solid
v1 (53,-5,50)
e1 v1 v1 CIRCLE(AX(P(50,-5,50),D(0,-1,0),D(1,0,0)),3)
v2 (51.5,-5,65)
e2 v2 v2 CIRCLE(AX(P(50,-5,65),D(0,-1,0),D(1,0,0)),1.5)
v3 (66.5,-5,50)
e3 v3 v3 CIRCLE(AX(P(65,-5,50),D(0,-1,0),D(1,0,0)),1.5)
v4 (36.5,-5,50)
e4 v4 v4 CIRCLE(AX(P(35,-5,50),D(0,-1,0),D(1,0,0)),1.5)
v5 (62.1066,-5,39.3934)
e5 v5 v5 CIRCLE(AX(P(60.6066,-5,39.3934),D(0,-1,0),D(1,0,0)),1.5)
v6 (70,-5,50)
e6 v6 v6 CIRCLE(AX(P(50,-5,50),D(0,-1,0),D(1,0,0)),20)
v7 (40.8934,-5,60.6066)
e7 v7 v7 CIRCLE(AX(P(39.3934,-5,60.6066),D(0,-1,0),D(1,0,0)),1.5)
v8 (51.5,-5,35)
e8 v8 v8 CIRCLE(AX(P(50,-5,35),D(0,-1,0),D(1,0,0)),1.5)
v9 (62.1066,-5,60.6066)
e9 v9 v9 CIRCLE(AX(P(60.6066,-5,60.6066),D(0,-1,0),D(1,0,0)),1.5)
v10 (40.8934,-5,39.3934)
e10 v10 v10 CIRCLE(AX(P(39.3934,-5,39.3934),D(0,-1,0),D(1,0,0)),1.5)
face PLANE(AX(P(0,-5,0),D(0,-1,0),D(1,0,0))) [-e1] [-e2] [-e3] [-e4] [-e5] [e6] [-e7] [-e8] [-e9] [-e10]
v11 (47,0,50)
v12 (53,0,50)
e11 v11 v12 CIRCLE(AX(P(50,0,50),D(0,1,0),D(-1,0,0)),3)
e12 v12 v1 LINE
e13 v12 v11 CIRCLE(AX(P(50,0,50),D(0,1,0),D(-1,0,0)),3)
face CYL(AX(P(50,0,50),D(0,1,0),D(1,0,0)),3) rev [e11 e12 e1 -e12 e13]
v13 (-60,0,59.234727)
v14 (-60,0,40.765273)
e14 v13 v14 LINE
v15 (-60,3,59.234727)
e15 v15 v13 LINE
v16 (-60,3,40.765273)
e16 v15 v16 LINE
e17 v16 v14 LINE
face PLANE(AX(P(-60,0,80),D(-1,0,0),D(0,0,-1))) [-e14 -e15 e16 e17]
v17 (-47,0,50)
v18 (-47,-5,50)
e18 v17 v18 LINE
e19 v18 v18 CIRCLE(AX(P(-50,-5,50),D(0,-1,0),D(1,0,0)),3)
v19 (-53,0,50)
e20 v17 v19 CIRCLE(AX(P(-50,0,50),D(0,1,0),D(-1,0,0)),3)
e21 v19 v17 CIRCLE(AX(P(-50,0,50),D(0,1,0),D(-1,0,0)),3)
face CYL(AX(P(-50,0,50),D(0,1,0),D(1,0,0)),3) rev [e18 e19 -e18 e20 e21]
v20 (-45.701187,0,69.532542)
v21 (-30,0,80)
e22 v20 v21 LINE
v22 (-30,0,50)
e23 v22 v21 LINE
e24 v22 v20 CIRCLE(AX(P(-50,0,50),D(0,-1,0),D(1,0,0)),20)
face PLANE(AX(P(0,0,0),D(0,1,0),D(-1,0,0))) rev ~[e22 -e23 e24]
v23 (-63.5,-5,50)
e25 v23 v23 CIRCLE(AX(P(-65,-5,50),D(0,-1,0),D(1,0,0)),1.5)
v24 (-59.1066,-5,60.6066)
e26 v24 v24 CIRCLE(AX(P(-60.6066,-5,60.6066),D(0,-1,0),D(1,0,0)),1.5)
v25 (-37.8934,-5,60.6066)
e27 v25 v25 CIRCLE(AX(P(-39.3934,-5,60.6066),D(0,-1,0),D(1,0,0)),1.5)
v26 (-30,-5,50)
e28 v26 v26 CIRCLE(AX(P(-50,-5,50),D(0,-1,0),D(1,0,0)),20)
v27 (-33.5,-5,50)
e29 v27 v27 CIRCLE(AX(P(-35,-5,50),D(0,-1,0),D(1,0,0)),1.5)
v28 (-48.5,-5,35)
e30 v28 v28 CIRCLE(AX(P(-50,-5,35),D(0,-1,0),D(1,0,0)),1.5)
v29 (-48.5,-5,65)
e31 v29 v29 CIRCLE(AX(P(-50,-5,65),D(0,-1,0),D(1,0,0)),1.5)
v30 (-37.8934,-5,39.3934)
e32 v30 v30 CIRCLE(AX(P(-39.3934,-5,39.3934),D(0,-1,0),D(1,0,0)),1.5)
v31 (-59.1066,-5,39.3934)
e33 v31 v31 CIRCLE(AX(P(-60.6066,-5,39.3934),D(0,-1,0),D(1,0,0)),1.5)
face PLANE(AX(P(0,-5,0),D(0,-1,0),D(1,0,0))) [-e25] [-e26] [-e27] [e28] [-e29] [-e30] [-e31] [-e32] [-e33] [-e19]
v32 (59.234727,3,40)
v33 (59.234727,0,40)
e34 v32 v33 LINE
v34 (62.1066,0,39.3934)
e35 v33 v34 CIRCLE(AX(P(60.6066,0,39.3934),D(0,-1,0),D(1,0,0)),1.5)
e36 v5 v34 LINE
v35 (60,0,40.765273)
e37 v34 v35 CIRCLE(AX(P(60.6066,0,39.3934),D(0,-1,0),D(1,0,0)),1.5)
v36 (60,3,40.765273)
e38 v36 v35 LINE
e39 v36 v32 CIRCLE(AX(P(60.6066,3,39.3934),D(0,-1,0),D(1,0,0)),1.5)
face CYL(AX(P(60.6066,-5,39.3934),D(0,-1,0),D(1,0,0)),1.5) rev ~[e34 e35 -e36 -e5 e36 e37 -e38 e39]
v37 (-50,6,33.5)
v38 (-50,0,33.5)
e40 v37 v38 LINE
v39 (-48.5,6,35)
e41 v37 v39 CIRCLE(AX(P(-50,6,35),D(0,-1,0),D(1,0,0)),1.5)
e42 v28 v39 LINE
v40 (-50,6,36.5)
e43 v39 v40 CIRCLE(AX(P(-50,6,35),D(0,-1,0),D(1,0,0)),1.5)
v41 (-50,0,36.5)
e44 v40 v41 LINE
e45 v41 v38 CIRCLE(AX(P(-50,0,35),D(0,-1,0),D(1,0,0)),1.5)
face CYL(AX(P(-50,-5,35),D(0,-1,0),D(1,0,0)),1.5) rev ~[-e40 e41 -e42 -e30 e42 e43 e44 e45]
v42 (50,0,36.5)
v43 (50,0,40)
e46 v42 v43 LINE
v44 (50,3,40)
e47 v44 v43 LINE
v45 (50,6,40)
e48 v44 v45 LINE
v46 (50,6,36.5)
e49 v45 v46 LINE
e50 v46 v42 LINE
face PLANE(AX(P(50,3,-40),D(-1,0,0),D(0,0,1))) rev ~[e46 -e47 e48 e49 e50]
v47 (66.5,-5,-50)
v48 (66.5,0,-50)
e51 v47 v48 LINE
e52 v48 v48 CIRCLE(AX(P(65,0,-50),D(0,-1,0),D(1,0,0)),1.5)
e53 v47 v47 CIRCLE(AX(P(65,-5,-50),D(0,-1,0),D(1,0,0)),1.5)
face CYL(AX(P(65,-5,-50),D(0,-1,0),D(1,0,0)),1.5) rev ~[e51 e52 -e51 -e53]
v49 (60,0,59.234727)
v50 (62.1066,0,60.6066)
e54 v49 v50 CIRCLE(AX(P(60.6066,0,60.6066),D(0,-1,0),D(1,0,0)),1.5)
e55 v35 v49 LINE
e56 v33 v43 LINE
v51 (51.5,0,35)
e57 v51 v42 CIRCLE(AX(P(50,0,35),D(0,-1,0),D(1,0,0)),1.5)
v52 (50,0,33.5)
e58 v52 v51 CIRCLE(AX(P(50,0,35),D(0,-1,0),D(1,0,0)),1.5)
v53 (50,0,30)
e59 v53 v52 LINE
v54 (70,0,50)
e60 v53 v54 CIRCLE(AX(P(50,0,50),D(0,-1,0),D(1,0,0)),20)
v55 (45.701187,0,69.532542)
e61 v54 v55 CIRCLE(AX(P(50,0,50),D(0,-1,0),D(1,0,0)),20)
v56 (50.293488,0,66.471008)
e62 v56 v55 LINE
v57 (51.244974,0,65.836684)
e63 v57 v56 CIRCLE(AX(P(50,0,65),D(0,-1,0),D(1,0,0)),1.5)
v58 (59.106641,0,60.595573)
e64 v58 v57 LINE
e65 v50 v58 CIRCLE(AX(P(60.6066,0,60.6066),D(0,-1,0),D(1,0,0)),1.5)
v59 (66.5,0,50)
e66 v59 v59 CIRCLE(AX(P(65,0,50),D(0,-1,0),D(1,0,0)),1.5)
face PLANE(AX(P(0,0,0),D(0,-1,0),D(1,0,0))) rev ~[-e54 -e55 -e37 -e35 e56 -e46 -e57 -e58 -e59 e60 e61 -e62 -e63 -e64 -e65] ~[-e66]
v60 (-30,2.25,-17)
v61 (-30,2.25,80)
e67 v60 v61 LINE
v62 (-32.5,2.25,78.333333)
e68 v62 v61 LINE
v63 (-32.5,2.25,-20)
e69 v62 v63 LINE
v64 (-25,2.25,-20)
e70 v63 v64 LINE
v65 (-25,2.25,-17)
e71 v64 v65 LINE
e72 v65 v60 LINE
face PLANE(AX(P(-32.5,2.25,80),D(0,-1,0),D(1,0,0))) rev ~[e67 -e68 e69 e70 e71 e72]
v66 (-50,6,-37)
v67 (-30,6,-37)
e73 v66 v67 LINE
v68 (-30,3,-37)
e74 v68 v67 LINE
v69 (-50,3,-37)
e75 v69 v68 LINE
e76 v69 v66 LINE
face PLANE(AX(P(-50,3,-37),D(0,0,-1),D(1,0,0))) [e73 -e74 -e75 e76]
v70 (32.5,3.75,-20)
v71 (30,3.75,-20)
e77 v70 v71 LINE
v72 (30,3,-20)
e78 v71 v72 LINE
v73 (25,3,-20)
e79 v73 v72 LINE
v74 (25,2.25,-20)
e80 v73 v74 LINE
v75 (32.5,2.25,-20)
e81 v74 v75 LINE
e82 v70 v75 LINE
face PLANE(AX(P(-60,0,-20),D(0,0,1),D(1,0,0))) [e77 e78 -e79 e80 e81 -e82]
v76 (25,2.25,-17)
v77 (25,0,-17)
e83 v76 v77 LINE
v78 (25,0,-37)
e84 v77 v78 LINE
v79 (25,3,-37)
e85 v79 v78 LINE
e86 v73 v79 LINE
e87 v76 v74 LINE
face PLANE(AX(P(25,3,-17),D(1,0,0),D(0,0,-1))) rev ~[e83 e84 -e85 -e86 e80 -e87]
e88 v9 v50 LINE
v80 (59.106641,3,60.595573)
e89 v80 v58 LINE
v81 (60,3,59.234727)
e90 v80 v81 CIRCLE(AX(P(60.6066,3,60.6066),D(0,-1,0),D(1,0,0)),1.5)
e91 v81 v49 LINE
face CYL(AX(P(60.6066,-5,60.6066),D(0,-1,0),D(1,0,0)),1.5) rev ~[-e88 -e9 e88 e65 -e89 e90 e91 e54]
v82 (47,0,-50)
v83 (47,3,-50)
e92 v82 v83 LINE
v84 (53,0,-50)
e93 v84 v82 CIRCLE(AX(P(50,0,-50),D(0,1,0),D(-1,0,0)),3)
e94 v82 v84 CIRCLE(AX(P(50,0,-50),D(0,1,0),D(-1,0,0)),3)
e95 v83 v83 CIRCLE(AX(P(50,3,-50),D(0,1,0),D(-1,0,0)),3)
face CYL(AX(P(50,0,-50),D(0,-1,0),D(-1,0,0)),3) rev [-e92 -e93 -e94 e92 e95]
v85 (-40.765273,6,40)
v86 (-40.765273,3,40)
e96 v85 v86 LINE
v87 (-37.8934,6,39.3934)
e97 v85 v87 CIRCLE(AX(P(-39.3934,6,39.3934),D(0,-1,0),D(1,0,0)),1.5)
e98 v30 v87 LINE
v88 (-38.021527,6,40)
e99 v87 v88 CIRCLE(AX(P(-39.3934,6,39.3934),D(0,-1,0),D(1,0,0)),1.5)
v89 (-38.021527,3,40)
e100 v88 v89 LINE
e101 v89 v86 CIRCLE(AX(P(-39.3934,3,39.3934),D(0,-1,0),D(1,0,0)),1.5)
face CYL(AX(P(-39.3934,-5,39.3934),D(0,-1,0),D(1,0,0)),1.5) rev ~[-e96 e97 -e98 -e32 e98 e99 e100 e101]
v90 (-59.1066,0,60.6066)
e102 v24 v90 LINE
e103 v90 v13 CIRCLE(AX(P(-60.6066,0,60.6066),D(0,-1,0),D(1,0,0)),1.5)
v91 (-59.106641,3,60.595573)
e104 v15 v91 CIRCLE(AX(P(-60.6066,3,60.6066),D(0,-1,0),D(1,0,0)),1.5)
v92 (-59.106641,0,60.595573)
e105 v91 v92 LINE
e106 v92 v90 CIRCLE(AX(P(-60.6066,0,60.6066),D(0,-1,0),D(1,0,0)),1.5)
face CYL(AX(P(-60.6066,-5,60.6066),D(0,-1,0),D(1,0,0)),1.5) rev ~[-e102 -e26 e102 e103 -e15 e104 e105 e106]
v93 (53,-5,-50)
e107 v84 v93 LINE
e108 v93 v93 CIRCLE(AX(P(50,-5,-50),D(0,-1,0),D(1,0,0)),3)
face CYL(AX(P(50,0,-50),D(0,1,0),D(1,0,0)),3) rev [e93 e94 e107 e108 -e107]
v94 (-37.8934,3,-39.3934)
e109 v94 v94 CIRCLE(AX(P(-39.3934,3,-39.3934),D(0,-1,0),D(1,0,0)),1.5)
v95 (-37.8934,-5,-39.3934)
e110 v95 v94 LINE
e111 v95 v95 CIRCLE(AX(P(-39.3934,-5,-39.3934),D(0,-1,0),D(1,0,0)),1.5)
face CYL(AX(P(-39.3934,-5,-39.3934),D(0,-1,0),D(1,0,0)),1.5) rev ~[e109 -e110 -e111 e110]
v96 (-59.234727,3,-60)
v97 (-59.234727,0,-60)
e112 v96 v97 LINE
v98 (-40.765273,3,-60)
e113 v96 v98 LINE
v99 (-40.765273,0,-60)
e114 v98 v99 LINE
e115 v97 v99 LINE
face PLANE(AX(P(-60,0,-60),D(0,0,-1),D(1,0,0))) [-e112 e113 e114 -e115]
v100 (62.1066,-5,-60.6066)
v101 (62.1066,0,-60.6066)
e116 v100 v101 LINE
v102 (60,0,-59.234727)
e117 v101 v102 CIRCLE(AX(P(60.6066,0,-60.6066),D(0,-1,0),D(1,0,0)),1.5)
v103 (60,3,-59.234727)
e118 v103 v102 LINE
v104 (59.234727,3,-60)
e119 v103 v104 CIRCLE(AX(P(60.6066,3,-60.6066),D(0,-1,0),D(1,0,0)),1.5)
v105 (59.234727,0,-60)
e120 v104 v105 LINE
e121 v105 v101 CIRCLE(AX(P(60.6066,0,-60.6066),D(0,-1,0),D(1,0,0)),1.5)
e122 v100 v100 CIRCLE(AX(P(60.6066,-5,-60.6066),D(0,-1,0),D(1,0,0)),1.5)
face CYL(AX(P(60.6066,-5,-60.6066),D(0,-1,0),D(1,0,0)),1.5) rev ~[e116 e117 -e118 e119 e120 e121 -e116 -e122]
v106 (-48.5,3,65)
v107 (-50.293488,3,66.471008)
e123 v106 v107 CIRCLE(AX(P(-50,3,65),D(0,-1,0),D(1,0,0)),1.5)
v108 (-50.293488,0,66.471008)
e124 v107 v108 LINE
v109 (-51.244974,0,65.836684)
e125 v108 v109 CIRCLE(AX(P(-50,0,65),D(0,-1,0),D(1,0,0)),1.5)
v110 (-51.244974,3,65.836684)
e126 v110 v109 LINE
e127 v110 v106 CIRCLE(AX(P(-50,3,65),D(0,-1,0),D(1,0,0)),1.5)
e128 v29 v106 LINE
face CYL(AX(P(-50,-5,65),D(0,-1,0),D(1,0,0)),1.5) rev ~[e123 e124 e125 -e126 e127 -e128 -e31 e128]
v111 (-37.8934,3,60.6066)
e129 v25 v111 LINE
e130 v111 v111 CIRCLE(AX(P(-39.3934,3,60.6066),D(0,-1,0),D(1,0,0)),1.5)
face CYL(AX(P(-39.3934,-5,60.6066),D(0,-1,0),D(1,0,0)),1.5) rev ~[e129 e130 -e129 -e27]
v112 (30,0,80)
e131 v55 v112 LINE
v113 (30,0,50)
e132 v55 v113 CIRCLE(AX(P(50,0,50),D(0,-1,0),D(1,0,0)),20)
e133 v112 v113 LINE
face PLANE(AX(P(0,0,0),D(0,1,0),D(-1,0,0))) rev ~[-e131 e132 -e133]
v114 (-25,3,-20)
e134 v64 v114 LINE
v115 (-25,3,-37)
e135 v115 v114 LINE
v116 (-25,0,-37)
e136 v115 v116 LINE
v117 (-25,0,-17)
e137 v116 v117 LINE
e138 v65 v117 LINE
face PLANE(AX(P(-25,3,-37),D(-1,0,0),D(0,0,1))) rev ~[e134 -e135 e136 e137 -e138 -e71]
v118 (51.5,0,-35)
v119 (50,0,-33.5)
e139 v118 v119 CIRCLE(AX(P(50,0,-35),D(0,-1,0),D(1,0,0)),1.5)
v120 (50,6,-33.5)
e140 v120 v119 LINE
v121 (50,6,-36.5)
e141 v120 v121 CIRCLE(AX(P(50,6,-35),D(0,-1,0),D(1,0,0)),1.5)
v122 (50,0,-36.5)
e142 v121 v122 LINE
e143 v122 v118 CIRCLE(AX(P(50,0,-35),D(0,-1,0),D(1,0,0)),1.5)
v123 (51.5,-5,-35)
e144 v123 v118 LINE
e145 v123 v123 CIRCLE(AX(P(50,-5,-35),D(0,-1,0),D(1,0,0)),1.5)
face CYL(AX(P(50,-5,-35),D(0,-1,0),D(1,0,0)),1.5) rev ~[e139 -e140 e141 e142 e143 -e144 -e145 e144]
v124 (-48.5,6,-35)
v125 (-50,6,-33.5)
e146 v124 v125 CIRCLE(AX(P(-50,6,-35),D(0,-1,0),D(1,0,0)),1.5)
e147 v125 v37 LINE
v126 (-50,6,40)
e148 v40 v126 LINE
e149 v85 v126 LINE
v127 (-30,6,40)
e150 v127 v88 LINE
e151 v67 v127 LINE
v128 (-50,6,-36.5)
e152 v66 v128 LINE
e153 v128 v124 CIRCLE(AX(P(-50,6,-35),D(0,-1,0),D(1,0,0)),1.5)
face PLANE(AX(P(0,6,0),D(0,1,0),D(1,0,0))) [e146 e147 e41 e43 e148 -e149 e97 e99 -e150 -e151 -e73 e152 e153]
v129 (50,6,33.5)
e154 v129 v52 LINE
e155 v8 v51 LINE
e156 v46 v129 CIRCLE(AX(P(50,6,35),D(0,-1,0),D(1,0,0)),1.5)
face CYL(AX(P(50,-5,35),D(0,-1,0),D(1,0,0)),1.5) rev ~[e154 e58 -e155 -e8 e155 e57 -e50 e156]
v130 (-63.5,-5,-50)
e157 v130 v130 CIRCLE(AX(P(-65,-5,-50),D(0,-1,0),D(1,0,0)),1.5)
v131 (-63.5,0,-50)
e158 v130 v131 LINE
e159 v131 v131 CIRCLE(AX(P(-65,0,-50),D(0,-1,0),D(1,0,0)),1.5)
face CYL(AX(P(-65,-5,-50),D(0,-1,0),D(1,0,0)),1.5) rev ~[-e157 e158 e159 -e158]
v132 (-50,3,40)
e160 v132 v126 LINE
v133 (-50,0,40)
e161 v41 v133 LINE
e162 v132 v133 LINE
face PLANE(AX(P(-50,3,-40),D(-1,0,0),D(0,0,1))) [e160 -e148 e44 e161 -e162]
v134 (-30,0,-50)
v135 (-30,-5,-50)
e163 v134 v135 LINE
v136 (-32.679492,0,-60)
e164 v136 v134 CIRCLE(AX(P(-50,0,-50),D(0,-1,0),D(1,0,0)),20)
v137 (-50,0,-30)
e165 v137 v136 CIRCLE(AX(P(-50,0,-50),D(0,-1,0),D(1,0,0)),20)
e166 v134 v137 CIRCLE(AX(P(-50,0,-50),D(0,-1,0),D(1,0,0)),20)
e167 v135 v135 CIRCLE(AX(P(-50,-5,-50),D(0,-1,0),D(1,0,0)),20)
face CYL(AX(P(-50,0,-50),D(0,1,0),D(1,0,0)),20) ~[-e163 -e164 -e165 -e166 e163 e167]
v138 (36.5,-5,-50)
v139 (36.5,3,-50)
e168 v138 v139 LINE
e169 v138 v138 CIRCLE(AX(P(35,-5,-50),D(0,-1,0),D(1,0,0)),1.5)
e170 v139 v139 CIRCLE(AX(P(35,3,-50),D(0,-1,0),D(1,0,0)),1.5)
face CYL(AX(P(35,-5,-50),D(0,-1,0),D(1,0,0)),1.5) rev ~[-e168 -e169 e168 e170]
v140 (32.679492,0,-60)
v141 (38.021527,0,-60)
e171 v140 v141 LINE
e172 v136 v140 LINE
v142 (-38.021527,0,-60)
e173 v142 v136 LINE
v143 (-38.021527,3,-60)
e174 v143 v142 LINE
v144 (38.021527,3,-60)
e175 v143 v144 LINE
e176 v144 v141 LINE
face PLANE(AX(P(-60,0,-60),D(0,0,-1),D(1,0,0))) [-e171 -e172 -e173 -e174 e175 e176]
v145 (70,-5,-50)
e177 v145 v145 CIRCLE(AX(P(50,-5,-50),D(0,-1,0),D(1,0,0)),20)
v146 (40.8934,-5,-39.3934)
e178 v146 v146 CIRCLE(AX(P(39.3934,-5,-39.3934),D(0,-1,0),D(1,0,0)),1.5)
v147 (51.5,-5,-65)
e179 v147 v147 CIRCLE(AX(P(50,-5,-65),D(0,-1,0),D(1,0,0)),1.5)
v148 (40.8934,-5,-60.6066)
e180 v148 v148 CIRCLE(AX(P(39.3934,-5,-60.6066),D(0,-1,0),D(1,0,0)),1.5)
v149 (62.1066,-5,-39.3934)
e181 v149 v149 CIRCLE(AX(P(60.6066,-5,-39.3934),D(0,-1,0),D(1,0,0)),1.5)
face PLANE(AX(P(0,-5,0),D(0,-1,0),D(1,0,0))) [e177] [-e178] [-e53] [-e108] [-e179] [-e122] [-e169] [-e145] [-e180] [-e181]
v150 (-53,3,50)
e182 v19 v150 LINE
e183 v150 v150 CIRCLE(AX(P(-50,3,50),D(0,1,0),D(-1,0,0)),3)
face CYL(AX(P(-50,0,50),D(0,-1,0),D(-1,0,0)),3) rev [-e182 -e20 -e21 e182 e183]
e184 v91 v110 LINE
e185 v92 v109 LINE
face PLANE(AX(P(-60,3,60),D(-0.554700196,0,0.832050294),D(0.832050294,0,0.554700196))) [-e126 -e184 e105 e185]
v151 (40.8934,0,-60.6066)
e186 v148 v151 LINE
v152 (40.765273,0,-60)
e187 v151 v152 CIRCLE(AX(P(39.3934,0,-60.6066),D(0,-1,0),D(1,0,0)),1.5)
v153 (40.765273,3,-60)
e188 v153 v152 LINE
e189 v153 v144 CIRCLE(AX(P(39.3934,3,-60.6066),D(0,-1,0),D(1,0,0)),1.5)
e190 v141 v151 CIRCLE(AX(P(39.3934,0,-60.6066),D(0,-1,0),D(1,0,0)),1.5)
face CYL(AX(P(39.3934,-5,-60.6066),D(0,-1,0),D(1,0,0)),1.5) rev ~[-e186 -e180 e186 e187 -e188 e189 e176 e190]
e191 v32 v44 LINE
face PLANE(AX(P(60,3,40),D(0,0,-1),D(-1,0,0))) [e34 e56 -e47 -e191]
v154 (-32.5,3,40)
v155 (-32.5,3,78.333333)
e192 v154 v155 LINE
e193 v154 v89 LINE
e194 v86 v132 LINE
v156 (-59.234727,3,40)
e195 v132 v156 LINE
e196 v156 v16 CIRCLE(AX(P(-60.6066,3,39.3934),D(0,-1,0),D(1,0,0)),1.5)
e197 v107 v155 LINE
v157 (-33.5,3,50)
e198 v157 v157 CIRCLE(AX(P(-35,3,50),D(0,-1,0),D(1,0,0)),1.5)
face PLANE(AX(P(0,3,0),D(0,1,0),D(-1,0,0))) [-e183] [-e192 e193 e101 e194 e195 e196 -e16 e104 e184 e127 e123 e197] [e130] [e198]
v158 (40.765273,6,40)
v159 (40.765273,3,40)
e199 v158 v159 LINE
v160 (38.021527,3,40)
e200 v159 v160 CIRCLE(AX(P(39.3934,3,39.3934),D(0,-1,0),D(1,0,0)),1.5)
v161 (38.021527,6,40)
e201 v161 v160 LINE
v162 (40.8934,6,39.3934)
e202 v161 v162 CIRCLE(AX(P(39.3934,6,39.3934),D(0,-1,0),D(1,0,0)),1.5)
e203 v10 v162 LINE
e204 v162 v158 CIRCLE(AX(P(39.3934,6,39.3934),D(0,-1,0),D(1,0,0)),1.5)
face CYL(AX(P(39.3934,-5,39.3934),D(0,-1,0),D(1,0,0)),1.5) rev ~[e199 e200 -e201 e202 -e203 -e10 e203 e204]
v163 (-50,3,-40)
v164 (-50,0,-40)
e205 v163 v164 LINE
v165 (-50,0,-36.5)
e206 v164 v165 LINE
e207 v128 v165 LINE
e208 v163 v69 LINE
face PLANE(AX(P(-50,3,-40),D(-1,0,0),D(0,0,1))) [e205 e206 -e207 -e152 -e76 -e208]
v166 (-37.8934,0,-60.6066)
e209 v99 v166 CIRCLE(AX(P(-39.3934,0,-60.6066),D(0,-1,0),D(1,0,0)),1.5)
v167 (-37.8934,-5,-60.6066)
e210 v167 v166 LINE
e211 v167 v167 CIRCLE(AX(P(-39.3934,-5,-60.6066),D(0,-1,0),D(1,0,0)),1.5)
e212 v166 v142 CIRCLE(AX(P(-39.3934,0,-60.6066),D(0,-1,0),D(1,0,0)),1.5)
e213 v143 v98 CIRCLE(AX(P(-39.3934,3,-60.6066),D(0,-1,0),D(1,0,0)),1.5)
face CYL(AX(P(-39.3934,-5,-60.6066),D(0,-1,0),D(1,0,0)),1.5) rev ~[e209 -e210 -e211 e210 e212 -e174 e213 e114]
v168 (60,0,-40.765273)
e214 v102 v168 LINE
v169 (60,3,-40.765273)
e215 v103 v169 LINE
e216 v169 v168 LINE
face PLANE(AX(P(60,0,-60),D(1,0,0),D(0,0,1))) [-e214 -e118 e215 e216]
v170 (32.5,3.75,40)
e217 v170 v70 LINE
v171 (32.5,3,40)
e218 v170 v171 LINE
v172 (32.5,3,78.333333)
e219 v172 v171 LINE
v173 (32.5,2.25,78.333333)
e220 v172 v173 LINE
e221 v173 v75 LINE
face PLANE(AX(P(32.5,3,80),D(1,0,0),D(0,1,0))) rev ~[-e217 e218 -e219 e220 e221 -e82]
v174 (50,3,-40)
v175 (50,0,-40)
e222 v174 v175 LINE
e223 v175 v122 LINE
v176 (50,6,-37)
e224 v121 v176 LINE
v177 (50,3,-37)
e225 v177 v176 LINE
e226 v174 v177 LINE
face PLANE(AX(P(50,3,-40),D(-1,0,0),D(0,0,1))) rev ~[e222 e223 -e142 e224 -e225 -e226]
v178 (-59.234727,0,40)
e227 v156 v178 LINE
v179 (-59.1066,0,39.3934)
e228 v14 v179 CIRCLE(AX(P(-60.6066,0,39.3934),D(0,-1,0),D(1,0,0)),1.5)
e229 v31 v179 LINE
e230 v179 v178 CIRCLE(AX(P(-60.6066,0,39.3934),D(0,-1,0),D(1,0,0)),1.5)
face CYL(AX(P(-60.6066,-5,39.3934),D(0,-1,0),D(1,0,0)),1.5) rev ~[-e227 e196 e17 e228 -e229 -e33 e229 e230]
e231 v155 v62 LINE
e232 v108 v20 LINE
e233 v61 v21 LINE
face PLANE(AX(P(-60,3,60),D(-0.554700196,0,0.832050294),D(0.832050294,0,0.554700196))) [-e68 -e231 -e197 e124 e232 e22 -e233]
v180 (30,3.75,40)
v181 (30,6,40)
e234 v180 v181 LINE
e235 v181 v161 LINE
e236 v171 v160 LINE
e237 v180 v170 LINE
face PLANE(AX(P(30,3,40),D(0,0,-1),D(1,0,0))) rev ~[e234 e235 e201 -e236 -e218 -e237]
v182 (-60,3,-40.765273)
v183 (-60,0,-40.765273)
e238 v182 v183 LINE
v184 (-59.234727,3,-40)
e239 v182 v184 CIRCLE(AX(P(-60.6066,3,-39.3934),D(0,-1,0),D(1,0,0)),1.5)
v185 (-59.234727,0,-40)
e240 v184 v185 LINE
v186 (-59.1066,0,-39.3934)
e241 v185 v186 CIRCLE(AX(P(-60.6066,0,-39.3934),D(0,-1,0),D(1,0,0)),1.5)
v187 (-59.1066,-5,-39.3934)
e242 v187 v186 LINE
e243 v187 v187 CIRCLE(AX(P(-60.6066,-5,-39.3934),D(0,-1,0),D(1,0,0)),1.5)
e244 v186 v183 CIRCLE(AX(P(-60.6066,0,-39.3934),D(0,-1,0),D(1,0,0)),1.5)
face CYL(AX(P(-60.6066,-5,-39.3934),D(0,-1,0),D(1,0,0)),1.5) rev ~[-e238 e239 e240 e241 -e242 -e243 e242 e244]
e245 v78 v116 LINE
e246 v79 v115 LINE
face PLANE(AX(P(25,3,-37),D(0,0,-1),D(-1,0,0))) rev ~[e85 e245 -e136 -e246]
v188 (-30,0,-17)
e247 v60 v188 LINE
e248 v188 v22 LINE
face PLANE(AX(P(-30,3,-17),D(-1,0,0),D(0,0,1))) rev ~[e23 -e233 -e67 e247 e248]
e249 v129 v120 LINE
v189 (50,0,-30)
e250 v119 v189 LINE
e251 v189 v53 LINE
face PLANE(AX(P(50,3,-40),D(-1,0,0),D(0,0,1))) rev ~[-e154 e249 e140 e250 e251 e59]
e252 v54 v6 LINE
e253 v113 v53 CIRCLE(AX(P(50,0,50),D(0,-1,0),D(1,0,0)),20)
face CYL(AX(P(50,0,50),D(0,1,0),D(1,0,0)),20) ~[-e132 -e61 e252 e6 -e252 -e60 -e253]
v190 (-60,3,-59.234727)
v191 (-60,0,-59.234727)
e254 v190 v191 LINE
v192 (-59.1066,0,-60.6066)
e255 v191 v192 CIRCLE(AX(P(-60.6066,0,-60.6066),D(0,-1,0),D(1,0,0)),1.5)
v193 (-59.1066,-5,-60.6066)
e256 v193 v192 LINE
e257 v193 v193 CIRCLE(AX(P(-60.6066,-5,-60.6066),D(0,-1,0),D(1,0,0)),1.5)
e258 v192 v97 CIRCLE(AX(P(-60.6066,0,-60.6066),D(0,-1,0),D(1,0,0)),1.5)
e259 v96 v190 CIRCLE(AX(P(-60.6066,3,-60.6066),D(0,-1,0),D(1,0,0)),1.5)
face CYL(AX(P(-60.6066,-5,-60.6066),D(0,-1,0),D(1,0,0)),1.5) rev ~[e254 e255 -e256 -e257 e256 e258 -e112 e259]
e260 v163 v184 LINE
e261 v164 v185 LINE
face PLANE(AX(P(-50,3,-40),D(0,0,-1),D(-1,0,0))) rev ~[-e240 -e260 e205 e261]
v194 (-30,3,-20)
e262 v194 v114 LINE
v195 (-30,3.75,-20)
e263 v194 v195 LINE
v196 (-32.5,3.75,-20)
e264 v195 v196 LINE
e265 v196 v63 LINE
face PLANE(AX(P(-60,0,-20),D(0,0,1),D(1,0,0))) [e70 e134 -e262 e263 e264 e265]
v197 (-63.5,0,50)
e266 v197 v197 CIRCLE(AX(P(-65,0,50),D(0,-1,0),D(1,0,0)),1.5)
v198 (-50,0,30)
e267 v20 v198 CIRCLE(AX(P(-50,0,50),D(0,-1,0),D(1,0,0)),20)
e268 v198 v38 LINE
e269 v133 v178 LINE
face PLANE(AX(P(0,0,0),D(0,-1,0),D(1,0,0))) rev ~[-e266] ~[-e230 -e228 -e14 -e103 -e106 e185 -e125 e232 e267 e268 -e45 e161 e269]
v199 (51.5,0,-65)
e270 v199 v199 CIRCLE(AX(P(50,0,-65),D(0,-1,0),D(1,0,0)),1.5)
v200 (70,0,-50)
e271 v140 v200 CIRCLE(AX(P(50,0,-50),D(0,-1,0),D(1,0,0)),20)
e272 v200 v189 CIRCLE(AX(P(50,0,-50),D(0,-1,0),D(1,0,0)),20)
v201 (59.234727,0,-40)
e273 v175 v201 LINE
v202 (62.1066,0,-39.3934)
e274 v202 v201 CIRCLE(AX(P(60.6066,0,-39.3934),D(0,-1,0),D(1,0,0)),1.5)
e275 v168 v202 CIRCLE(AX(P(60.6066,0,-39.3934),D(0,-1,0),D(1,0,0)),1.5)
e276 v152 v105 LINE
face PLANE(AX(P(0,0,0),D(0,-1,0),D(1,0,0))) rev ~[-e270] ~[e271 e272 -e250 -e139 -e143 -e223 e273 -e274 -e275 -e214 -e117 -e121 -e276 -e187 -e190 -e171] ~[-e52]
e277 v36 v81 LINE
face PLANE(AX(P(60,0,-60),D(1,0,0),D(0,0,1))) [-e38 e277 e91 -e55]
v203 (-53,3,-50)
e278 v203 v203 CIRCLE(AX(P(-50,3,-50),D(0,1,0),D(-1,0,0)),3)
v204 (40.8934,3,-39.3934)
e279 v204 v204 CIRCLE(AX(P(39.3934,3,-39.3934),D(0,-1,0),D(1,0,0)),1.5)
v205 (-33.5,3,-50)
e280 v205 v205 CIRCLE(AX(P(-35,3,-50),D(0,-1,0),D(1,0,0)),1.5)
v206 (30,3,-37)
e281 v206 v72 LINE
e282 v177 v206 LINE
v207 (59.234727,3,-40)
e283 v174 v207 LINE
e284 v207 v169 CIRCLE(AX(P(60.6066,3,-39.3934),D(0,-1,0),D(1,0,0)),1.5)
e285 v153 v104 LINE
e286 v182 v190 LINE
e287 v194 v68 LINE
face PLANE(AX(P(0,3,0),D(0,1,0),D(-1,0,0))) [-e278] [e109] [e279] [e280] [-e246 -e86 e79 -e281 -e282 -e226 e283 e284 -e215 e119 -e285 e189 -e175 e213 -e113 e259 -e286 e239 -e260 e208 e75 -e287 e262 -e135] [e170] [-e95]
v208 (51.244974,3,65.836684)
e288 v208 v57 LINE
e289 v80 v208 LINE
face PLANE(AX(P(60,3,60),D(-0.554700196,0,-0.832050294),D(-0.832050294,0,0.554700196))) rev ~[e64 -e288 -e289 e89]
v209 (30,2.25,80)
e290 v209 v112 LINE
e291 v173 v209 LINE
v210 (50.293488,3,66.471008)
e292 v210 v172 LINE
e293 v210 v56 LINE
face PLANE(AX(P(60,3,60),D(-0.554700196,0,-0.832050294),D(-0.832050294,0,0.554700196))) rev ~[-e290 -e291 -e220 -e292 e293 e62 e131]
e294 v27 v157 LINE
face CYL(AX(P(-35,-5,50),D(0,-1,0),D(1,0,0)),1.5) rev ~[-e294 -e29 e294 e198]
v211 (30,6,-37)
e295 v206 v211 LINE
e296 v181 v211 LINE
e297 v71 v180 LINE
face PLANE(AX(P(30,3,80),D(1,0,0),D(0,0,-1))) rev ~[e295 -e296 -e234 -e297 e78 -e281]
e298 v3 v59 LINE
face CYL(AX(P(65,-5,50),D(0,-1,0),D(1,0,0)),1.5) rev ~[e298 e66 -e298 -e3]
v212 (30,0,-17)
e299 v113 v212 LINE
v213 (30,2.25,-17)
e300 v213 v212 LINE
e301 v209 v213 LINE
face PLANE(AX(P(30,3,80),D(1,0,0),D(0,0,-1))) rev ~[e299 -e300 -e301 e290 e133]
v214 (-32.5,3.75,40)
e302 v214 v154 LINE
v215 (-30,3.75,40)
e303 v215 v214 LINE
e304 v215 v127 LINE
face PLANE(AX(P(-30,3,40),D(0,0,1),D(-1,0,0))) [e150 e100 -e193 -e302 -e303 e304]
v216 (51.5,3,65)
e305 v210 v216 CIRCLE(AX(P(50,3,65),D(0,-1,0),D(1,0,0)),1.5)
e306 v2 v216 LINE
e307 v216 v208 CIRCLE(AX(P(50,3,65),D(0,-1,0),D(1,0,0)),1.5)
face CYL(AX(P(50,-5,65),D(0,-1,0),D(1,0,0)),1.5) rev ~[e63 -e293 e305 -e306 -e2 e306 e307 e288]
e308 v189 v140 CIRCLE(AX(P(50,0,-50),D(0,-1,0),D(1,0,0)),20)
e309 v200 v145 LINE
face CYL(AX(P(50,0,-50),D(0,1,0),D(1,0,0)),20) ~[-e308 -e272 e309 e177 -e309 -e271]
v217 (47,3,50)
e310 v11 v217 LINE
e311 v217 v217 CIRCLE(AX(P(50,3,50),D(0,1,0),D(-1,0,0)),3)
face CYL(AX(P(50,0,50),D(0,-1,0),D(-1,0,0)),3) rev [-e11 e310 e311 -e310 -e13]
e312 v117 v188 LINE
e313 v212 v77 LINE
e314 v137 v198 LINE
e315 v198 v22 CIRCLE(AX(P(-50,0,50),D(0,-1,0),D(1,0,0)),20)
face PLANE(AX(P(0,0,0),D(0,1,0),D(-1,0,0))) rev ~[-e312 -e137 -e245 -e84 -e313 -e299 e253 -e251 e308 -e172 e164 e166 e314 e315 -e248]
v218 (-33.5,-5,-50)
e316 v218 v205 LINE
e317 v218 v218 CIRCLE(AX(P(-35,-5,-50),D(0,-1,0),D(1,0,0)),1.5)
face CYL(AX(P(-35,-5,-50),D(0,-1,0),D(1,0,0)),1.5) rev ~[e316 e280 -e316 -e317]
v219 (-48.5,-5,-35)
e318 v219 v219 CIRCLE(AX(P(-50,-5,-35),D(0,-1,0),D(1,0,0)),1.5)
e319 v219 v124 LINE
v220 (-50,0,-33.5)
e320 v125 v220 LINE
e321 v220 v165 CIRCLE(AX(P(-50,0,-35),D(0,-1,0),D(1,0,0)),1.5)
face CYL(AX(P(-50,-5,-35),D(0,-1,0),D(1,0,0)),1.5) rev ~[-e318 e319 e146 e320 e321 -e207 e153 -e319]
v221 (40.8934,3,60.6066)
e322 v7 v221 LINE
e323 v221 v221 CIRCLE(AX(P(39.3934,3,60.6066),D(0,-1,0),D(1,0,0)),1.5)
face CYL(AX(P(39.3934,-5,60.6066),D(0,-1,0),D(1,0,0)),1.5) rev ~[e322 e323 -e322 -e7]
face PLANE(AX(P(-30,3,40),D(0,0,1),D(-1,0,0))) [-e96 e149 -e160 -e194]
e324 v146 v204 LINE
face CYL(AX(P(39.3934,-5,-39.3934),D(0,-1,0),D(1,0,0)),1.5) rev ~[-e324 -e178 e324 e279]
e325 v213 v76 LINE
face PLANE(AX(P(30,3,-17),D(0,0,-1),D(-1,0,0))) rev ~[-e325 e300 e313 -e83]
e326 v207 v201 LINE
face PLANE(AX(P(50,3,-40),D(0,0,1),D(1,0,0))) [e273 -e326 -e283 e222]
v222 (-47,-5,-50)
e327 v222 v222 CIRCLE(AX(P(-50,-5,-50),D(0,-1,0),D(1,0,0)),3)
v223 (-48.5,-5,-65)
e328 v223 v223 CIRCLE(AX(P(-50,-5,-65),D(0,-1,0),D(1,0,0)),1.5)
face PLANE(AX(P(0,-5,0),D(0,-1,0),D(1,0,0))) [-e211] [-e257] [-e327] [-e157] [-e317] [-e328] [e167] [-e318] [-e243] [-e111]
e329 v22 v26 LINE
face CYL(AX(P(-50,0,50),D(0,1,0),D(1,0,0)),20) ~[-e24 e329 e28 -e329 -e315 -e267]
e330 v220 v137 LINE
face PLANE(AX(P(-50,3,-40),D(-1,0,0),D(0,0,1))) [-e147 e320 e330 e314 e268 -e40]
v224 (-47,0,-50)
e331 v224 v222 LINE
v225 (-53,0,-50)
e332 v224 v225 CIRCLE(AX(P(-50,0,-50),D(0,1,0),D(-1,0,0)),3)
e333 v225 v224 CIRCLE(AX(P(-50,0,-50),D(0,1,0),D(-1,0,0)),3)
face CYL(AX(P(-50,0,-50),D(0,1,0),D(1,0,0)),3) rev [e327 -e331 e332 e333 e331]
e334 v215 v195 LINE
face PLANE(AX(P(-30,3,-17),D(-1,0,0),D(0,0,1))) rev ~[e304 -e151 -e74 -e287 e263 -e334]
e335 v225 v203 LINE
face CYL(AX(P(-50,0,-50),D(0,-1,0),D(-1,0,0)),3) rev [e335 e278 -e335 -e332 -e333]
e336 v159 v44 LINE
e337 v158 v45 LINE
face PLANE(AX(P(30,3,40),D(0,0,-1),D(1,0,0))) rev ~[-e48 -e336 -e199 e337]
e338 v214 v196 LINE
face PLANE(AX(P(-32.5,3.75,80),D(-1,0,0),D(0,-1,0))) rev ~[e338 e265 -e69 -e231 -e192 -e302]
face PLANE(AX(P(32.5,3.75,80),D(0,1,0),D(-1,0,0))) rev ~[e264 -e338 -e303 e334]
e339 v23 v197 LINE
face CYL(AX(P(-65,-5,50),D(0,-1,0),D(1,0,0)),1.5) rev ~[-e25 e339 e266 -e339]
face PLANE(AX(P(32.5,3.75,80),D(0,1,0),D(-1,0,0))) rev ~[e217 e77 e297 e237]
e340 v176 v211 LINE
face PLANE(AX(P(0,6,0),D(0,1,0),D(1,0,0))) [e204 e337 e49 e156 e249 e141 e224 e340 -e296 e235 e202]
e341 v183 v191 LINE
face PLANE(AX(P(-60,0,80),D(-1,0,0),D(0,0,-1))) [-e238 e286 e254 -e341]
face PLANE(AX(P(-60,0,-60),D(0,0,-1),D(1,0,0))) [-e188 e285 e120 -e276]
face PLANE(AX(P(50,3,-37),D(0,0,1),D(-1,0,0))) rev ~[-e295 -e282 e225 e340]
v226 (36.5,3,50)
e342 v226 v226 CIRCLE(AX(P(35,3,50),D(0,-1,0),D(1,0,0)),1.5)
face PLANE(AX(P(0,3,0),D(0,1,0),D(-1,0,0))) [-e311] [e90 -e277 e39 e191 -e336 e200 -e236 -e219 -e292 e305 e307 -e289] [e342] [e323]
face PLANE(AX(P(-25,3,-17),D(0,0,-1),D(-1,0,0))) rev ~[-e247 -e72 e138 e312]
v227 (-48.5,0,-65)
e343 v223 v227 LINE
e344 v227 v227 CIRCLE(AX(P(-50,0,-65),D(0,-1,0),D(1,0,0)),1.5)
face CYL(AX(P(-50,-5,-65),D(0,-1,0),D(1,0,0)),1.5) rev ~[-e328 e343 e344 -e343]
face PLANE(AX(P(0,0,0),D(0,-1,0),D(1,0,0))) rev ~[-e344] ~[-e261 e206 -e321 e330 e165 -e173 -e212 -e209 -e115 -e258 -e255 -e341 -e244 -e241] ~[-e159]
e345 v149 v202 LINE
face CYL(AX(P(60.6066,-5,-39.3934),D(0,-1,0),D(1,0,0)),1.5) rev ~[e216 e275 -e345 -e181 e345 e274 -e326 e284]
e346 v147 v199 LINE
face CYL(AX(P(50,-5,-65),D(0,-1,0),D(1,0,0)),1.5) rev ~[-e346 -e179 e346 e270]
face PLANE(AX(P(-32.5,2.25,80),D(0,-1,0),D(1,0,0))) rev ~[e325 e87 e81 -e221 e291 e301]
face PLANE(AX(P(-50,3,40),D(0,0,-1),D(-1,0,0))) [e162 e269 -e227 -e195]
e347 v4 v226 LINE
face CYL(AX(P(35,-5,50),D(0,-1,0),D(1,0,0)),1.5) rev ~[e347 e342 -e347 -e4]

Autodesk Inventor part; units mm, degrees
ref_plane "YZ Plane" through (0, 0, 0) normal (1, 0, 0) x (0, 1, 0)
ref_plane "XZ Plane" through (0, 0, 0) normal (0, 1, 0) x (-1, 0, 0)
ref_plane "XY Plane" through (0, 0, 0) normal (0, 0, 1) x (1, 0, 0)
sketch "Esquisse1" plane through (0, 0, 0) normal (0, 1, 0) x (-1, 0, 0)
  line L0 (-60, 80) -> (60, 80)
  line L1 (60, 80) -> (60, -60)
  line L2 (60, -60) -> (-60, -60)
  line L3 (-60, -60) -> (-60, 80)
  circle A0 centre (50, 50) radius 3
  circle A1 centre (50, -50) radius 3
  circle A2 centre (-50, -50) radius 3
  circle A3 centre (-50, 50) radius 3
  point P0 (0, 0)
  dimension "d0" = 140
  dimension "d1" = 120
  dimension "d2" = 50
  dimension "d3" = 100
  dimension "d4" = 50
  dimension "d6" = 6
  dimension "d7" = 6
  dimension "d8" = 50
  dimension "d9" = 6
  dimension "d10" = 6
  dimension "d11" = 50
  dimension "d12" = 100
  dimension "d13" = 100
  dimension "d14" = 100
  dimension "d15" = 60
  dimension "d35" = 10
extrude "Extrusion1" add sketch "Esquisse1" along normal blind 3
sketch "Esquisse2" plane through (0, 3, 0) normal (0, 1, 0) x (1, 0, 0)
  circle A0 centre (50, -50) radius 3 projected
  circle A1 centre (50, 50) radius 3 projected
  circle A2 centre (-50, 50) radius 3 projected
  circle A3 centre (-50, -50) radius 3 projected
  line L0 (-60, -80) -> (60, -80) projected
  line L1 (60, -80) -> (60, 60) projected
  line L2 (-60, 60) -> (-60, -80) projected
  line L3 (-40, -40) -> (-60, -40)
  line L4 (-60, -40) -> (-60, -60)
  line L5 (-60, -60) -> (-40, -60)
  line L6 (-40, -60) -> (-40, -40)
  line L7 (-60, 60) -> (-40, 60)
  line L8 (-40, 60) -> (-40, 40)
  line L9 (-40, 40) -> (-60, 40)
  line L10 (-60, 40) -> (-60, 60)
  line L11 (60, 60) -> (40, 60)
  line L12 (40, 60) -> (40, 40)
  line L13 (40, 40) -> (60, 40)
  line L14 (60, 40) -> (60, 60)
  line L15 (60, -40) -> (40, -40)
  line L16 (40, -40) -> (40, -60)
  line L17 (40, -60) -> (60, -60)
  line L18 (60, -60) -> (60, -40)
  line L19 (-60, 40) -> (-50, 40)
  line L20 (-50, 40) -> (-50, -40)
  line L21 (-50, -40) -> (-60, -40)
  line L22 (-60, -40) -> (-60, 40)
  line L23 (60, 40) -> (50, 40)
  line L24 (50, 40) -> (50, -40)
  line L25 (50, -40) -> (60, -40)
  line L26 (60, -40) -> (60, 40)
  line L27 (-30, -80) -> (30, -80)
  line L28 (30, -80) -> (30, 17)
  line L29 (30, 17) -> (-30, 17)
  line L30 (-30, 17) -> (-30, -80)
  line L31 (-60, -60) -> (-30, -80)
  line L32 (60, -60) -> (30, -80)
  line L33 (-40, 60) -> (40, 60)
  line L34 (-25, 17) -> (25, 17)
  line L35 (25, 17) -> (25, 37)
  line L36 (25, 37) -> (-25, 37)
  line L37 (-25, 37) -> (-25, 17)
  point P0 (0, 0)
  dimension "d19" = 20
  dimension "d20" = 20
  dimension "d21" = 20
  dimension "d22" = 20
  dimension "d23" = 20
  dimension "d24" = 20
  dimension "d25" = 20
  dimension "d26" = 20
  dimension "d27" = 10
  dimension "d28" = 10
  dimension "d29" = 10
  dimension "d30" = 10
  dimension "d31" = 60
  dimension "d32" = 97
  dimension "d33" = 120
  dimension "d34" = 30
  dimension "d36" = 5
  dimension "d37" = 5
  dimension "d38" = 20
extrude "Extrusion2" cut sketch "Esquisse2" against normal through all contours L2 L31 L0 | L30 L29 L28 L0 | L32 L1 L0 | L2 L9 L20 L3 | L37 L36 L35 L29 | L15 L24 L13 L1
sketch "Esquisse3" plane through (0, 3, 0) normal (0, 1, 0) x (1, 0, 0)
  line L0 (60, -40) -> (50, -40) projected
  line L1 (50, -40) -> (50, 40) projected
  line L2 (-50, 40) -> (-50, -40) projected
  line L3 (-50, -40) -> (-60, -40) projected
  line L4 (-30, -80) -> (-30, 17) projected
  line L5 (-25, 37) -> (25, 37) projected
  line L6 (30, 17) -> (30, -80) projected
  line L7 (-50, 37) -> (-30, 37)
  line L8 (-30, 37) -> (-30, -40)
  line L9 (-30, -40) -> (-50, -40)
  line L10 (-50, -40) -> (-50, 37)
  line L11 (30, -40) -> (50, -40)
  line L12 (50, -40) -> (50, 37)
  line L13 (50, 37) -> (30, 37)
  line L14 (30, 37) -> (30, -40)
  point P0 (0, 0)
extrude "Extrusion3" add sketch "Esquisse3" along normal blind 3
sketch "Esquisse5" plane through (-60, 0, 80) normal (0, 0, 1) x (1, 0, 0)
  line L0 (0, 3) -> (120, 3) projected
  line L1 (27.5, 2.25) -> (92.5, 2.25)
  line L2 (92.5, 2.25) -> (92.5, 3.75)
  line L3 (92.5, 3.75) -> (27.5, 3.75)
  line L4 (27.5, 3.75) -> (27.5, 2.25)
  point P0 (60, 0)
  dimension "d43" = 65
  dimension "d44" = 1.5
  dimension "d45" = 0.75
  dimension "d46" = 32.5
extrude "Extrusion4" cut sketch "Esquisse5" against normal blind 100
sketch "Esquisse6" plane through (0, 0, 0) normal (0, -1, 0) x (1, 0, 0)
  circle A0 centre (-50, 50) radius 3 projected
  circle A1 centre (-50, -50) radius 3 projected
  circle A2 centre (50, -50) radius 3 projected
  circle A3 centre (50, 50) radius 3 projected
  circle A4 centre (-50, 50) radius 20
  circle A5 centre (50, 50) radius 20
  circle A6 centre (50, -50) radius 20
  circle A7 centre (-50, -50) radius 20
  point P0 (0, 0)
  dimension "d49" = 40
  dimension "d50" = 40
  dimension "d51" = 40
  dimension "d52" = 40
extrude "Extrusion5" add sketch "Esquisse6" along normal blind 5
sketch "Esquisse7" plane through (-50, -5, 50) normal (0, -1, 0) x (1, 0, 0)
  circle A0 centre (0, 0) radius 3 projected
  circle A1 centre (0, 0) radius 20 projected
  circle A2 centre (0, 0) radius 15 construction
  circle A3 centre (0, 15) radius 1.5
  line L0 (0, 0) -> (0, 20) construction
  circle A4 centre (-10.6066, 10.6066) radius 1.5
  circle A5 centre (-15, 0) radius 1.5
  circle A6 centre (-10.6066, -10.6066) radius 1.5
  circle A7 centre (0, -15) radius 1.5
  circle A8 centre (10.6066, -10.6066) radius 1.5
  circle A9 centre (15, 0) radius 1.5
  circle A10 centre (10.6066, 10.6066) radius 1.5
  point P0 (50, -50)
  dimension "d55" = 30
  dimension "d56" = 3
  dimension "d59" = 360
extrude "Extrusion6" cut sketch "Esquisse7" against normal through all contours A3 | A4 | A5 | A6 | A7 | A8 | A9 | A10
sketch "Esquisse8" plane through (50, -5, 50) normal (0, -1, 0) x (1, 0, 0)
  circle A0 centre (0, 0) radius 3
  circle A1 centre (0, 0) radius 20
  circle A2 centre (0, 0) radius 15 construction
  circle A3 centre (0, 15) radius 1.5
  line L0 (0, 0) -> (0, 20) construction
  circle A4 centre (-10.6066, 10.6066) radius 1.5
  circle A5 centre (-15, 0) radius 1.5
  circle A6 centre (-10.6066, -10.6066) radius 1.5
  circle A7 centre (0, -15) radius 1.5
  circle A8 centre (10.6066, -10.6066) radius 1.5
  circle A9 centre (15, 0) radius 1.5
  circle A10 centre (10.6066, 10.6066) radius 1.5
  point P0 (-50, -50)
  dimension "d65" = 30
  dimension "d66" = 3
  dimension "d67" = 360
extrude "Extrusion7" cut sketch "Esquisse8" against normal through all contours A3 | A4 | A5 | A6 | A7 | A8 | A9 | A10
sketch "Esquisse9" plane through (-50, -5, -50) normal (0, -1, 0) x (1, 0, 0)
  circle A0 centre (0, 0) radius 3
  circle A1 centre (0, 0) radius 20
  circle A2 centre (0, 0) radius 15 construction
  circle A3 centre (0, 15) radius 1.5
  line L0 (0, 0) -> (0, 20) construction
  circle A4 centre (-10.6066, 10.6066) radius 1.5
  circle A5 centre (-15, 0) radius 1.5
  circle A6 centre (-10.6066, -10.6066) radius 1.5
  circle A7 centre (0, -15) radius 1.5
  circle A8 centre (10.6066, -10.6066) radius 1.5
  circle A9 centre (15, 0) radius 1.5
  circle A10 centre (10.6066, 10.6066) radius 1.5
  point P0 (50, 50)
  dimension "d72" = 30
  dimension "d73" = 3
  dimension "d74" = 360
extrude "Extrusion8" cut sketch "Esquisse9" against normal through all contours A3 | A4 | A5 | A6 | A7 | A8 | A9 | A10
sketch "Esquisse10" plane through (50, -5, -50) normal (0, -1, 0) x (1, 0, 0)
  circle A0 centre (0, 0) radius 3
  circle A1 centre (0, 0) radius 20
  circle A2 centre (0, 0) radius 15 construction
  circle A3 centre (0, 15) radius 1.5
  line L0 (0, 0) -> (0, 20) construction
  circle A4 centre (-10.6066, 10.6066) radius 1.5
  circle A5 centre (-15, 0) radius 1.5
  circle A6 centre (-10.6066, -10.6066) radius 1.5
  circle A7 centre (0, -15) radius 1.5
  circle A8 centre (10.6066, -10.6066) radius 1.5
  circle A9 centre (15, 0) radius 1.5
  circle A10 centre (10.6066, 10.6066) radius 1.5
  point P0 (-50, 50)
  dimension "d79" = 30
  dimension "d80" = 3
  dimension "d81" = 360
extrude "Extrusion9" cut sketch "Esquisse10" against normal through all contours A3 | A4 | A5 | A6 | A7 | A8 | A9 | A10
equation "\"d15\" = 0.5 * d1"
equation "\"d27\" = 0.5 * d26"
equation "\"d28\" = 0.5 * d19"
equation "\"d29\" = 0.5 * d22"
equation "\"d30\" = 0.5 * d23"
equation "\"d34\" = -0.5 * d31 + 0.5 * d33"
equation "\"d45\" = 0.5 * d44"
equation "\"d46\" = 0.5 * d43"
properties part number "support_discovery"
